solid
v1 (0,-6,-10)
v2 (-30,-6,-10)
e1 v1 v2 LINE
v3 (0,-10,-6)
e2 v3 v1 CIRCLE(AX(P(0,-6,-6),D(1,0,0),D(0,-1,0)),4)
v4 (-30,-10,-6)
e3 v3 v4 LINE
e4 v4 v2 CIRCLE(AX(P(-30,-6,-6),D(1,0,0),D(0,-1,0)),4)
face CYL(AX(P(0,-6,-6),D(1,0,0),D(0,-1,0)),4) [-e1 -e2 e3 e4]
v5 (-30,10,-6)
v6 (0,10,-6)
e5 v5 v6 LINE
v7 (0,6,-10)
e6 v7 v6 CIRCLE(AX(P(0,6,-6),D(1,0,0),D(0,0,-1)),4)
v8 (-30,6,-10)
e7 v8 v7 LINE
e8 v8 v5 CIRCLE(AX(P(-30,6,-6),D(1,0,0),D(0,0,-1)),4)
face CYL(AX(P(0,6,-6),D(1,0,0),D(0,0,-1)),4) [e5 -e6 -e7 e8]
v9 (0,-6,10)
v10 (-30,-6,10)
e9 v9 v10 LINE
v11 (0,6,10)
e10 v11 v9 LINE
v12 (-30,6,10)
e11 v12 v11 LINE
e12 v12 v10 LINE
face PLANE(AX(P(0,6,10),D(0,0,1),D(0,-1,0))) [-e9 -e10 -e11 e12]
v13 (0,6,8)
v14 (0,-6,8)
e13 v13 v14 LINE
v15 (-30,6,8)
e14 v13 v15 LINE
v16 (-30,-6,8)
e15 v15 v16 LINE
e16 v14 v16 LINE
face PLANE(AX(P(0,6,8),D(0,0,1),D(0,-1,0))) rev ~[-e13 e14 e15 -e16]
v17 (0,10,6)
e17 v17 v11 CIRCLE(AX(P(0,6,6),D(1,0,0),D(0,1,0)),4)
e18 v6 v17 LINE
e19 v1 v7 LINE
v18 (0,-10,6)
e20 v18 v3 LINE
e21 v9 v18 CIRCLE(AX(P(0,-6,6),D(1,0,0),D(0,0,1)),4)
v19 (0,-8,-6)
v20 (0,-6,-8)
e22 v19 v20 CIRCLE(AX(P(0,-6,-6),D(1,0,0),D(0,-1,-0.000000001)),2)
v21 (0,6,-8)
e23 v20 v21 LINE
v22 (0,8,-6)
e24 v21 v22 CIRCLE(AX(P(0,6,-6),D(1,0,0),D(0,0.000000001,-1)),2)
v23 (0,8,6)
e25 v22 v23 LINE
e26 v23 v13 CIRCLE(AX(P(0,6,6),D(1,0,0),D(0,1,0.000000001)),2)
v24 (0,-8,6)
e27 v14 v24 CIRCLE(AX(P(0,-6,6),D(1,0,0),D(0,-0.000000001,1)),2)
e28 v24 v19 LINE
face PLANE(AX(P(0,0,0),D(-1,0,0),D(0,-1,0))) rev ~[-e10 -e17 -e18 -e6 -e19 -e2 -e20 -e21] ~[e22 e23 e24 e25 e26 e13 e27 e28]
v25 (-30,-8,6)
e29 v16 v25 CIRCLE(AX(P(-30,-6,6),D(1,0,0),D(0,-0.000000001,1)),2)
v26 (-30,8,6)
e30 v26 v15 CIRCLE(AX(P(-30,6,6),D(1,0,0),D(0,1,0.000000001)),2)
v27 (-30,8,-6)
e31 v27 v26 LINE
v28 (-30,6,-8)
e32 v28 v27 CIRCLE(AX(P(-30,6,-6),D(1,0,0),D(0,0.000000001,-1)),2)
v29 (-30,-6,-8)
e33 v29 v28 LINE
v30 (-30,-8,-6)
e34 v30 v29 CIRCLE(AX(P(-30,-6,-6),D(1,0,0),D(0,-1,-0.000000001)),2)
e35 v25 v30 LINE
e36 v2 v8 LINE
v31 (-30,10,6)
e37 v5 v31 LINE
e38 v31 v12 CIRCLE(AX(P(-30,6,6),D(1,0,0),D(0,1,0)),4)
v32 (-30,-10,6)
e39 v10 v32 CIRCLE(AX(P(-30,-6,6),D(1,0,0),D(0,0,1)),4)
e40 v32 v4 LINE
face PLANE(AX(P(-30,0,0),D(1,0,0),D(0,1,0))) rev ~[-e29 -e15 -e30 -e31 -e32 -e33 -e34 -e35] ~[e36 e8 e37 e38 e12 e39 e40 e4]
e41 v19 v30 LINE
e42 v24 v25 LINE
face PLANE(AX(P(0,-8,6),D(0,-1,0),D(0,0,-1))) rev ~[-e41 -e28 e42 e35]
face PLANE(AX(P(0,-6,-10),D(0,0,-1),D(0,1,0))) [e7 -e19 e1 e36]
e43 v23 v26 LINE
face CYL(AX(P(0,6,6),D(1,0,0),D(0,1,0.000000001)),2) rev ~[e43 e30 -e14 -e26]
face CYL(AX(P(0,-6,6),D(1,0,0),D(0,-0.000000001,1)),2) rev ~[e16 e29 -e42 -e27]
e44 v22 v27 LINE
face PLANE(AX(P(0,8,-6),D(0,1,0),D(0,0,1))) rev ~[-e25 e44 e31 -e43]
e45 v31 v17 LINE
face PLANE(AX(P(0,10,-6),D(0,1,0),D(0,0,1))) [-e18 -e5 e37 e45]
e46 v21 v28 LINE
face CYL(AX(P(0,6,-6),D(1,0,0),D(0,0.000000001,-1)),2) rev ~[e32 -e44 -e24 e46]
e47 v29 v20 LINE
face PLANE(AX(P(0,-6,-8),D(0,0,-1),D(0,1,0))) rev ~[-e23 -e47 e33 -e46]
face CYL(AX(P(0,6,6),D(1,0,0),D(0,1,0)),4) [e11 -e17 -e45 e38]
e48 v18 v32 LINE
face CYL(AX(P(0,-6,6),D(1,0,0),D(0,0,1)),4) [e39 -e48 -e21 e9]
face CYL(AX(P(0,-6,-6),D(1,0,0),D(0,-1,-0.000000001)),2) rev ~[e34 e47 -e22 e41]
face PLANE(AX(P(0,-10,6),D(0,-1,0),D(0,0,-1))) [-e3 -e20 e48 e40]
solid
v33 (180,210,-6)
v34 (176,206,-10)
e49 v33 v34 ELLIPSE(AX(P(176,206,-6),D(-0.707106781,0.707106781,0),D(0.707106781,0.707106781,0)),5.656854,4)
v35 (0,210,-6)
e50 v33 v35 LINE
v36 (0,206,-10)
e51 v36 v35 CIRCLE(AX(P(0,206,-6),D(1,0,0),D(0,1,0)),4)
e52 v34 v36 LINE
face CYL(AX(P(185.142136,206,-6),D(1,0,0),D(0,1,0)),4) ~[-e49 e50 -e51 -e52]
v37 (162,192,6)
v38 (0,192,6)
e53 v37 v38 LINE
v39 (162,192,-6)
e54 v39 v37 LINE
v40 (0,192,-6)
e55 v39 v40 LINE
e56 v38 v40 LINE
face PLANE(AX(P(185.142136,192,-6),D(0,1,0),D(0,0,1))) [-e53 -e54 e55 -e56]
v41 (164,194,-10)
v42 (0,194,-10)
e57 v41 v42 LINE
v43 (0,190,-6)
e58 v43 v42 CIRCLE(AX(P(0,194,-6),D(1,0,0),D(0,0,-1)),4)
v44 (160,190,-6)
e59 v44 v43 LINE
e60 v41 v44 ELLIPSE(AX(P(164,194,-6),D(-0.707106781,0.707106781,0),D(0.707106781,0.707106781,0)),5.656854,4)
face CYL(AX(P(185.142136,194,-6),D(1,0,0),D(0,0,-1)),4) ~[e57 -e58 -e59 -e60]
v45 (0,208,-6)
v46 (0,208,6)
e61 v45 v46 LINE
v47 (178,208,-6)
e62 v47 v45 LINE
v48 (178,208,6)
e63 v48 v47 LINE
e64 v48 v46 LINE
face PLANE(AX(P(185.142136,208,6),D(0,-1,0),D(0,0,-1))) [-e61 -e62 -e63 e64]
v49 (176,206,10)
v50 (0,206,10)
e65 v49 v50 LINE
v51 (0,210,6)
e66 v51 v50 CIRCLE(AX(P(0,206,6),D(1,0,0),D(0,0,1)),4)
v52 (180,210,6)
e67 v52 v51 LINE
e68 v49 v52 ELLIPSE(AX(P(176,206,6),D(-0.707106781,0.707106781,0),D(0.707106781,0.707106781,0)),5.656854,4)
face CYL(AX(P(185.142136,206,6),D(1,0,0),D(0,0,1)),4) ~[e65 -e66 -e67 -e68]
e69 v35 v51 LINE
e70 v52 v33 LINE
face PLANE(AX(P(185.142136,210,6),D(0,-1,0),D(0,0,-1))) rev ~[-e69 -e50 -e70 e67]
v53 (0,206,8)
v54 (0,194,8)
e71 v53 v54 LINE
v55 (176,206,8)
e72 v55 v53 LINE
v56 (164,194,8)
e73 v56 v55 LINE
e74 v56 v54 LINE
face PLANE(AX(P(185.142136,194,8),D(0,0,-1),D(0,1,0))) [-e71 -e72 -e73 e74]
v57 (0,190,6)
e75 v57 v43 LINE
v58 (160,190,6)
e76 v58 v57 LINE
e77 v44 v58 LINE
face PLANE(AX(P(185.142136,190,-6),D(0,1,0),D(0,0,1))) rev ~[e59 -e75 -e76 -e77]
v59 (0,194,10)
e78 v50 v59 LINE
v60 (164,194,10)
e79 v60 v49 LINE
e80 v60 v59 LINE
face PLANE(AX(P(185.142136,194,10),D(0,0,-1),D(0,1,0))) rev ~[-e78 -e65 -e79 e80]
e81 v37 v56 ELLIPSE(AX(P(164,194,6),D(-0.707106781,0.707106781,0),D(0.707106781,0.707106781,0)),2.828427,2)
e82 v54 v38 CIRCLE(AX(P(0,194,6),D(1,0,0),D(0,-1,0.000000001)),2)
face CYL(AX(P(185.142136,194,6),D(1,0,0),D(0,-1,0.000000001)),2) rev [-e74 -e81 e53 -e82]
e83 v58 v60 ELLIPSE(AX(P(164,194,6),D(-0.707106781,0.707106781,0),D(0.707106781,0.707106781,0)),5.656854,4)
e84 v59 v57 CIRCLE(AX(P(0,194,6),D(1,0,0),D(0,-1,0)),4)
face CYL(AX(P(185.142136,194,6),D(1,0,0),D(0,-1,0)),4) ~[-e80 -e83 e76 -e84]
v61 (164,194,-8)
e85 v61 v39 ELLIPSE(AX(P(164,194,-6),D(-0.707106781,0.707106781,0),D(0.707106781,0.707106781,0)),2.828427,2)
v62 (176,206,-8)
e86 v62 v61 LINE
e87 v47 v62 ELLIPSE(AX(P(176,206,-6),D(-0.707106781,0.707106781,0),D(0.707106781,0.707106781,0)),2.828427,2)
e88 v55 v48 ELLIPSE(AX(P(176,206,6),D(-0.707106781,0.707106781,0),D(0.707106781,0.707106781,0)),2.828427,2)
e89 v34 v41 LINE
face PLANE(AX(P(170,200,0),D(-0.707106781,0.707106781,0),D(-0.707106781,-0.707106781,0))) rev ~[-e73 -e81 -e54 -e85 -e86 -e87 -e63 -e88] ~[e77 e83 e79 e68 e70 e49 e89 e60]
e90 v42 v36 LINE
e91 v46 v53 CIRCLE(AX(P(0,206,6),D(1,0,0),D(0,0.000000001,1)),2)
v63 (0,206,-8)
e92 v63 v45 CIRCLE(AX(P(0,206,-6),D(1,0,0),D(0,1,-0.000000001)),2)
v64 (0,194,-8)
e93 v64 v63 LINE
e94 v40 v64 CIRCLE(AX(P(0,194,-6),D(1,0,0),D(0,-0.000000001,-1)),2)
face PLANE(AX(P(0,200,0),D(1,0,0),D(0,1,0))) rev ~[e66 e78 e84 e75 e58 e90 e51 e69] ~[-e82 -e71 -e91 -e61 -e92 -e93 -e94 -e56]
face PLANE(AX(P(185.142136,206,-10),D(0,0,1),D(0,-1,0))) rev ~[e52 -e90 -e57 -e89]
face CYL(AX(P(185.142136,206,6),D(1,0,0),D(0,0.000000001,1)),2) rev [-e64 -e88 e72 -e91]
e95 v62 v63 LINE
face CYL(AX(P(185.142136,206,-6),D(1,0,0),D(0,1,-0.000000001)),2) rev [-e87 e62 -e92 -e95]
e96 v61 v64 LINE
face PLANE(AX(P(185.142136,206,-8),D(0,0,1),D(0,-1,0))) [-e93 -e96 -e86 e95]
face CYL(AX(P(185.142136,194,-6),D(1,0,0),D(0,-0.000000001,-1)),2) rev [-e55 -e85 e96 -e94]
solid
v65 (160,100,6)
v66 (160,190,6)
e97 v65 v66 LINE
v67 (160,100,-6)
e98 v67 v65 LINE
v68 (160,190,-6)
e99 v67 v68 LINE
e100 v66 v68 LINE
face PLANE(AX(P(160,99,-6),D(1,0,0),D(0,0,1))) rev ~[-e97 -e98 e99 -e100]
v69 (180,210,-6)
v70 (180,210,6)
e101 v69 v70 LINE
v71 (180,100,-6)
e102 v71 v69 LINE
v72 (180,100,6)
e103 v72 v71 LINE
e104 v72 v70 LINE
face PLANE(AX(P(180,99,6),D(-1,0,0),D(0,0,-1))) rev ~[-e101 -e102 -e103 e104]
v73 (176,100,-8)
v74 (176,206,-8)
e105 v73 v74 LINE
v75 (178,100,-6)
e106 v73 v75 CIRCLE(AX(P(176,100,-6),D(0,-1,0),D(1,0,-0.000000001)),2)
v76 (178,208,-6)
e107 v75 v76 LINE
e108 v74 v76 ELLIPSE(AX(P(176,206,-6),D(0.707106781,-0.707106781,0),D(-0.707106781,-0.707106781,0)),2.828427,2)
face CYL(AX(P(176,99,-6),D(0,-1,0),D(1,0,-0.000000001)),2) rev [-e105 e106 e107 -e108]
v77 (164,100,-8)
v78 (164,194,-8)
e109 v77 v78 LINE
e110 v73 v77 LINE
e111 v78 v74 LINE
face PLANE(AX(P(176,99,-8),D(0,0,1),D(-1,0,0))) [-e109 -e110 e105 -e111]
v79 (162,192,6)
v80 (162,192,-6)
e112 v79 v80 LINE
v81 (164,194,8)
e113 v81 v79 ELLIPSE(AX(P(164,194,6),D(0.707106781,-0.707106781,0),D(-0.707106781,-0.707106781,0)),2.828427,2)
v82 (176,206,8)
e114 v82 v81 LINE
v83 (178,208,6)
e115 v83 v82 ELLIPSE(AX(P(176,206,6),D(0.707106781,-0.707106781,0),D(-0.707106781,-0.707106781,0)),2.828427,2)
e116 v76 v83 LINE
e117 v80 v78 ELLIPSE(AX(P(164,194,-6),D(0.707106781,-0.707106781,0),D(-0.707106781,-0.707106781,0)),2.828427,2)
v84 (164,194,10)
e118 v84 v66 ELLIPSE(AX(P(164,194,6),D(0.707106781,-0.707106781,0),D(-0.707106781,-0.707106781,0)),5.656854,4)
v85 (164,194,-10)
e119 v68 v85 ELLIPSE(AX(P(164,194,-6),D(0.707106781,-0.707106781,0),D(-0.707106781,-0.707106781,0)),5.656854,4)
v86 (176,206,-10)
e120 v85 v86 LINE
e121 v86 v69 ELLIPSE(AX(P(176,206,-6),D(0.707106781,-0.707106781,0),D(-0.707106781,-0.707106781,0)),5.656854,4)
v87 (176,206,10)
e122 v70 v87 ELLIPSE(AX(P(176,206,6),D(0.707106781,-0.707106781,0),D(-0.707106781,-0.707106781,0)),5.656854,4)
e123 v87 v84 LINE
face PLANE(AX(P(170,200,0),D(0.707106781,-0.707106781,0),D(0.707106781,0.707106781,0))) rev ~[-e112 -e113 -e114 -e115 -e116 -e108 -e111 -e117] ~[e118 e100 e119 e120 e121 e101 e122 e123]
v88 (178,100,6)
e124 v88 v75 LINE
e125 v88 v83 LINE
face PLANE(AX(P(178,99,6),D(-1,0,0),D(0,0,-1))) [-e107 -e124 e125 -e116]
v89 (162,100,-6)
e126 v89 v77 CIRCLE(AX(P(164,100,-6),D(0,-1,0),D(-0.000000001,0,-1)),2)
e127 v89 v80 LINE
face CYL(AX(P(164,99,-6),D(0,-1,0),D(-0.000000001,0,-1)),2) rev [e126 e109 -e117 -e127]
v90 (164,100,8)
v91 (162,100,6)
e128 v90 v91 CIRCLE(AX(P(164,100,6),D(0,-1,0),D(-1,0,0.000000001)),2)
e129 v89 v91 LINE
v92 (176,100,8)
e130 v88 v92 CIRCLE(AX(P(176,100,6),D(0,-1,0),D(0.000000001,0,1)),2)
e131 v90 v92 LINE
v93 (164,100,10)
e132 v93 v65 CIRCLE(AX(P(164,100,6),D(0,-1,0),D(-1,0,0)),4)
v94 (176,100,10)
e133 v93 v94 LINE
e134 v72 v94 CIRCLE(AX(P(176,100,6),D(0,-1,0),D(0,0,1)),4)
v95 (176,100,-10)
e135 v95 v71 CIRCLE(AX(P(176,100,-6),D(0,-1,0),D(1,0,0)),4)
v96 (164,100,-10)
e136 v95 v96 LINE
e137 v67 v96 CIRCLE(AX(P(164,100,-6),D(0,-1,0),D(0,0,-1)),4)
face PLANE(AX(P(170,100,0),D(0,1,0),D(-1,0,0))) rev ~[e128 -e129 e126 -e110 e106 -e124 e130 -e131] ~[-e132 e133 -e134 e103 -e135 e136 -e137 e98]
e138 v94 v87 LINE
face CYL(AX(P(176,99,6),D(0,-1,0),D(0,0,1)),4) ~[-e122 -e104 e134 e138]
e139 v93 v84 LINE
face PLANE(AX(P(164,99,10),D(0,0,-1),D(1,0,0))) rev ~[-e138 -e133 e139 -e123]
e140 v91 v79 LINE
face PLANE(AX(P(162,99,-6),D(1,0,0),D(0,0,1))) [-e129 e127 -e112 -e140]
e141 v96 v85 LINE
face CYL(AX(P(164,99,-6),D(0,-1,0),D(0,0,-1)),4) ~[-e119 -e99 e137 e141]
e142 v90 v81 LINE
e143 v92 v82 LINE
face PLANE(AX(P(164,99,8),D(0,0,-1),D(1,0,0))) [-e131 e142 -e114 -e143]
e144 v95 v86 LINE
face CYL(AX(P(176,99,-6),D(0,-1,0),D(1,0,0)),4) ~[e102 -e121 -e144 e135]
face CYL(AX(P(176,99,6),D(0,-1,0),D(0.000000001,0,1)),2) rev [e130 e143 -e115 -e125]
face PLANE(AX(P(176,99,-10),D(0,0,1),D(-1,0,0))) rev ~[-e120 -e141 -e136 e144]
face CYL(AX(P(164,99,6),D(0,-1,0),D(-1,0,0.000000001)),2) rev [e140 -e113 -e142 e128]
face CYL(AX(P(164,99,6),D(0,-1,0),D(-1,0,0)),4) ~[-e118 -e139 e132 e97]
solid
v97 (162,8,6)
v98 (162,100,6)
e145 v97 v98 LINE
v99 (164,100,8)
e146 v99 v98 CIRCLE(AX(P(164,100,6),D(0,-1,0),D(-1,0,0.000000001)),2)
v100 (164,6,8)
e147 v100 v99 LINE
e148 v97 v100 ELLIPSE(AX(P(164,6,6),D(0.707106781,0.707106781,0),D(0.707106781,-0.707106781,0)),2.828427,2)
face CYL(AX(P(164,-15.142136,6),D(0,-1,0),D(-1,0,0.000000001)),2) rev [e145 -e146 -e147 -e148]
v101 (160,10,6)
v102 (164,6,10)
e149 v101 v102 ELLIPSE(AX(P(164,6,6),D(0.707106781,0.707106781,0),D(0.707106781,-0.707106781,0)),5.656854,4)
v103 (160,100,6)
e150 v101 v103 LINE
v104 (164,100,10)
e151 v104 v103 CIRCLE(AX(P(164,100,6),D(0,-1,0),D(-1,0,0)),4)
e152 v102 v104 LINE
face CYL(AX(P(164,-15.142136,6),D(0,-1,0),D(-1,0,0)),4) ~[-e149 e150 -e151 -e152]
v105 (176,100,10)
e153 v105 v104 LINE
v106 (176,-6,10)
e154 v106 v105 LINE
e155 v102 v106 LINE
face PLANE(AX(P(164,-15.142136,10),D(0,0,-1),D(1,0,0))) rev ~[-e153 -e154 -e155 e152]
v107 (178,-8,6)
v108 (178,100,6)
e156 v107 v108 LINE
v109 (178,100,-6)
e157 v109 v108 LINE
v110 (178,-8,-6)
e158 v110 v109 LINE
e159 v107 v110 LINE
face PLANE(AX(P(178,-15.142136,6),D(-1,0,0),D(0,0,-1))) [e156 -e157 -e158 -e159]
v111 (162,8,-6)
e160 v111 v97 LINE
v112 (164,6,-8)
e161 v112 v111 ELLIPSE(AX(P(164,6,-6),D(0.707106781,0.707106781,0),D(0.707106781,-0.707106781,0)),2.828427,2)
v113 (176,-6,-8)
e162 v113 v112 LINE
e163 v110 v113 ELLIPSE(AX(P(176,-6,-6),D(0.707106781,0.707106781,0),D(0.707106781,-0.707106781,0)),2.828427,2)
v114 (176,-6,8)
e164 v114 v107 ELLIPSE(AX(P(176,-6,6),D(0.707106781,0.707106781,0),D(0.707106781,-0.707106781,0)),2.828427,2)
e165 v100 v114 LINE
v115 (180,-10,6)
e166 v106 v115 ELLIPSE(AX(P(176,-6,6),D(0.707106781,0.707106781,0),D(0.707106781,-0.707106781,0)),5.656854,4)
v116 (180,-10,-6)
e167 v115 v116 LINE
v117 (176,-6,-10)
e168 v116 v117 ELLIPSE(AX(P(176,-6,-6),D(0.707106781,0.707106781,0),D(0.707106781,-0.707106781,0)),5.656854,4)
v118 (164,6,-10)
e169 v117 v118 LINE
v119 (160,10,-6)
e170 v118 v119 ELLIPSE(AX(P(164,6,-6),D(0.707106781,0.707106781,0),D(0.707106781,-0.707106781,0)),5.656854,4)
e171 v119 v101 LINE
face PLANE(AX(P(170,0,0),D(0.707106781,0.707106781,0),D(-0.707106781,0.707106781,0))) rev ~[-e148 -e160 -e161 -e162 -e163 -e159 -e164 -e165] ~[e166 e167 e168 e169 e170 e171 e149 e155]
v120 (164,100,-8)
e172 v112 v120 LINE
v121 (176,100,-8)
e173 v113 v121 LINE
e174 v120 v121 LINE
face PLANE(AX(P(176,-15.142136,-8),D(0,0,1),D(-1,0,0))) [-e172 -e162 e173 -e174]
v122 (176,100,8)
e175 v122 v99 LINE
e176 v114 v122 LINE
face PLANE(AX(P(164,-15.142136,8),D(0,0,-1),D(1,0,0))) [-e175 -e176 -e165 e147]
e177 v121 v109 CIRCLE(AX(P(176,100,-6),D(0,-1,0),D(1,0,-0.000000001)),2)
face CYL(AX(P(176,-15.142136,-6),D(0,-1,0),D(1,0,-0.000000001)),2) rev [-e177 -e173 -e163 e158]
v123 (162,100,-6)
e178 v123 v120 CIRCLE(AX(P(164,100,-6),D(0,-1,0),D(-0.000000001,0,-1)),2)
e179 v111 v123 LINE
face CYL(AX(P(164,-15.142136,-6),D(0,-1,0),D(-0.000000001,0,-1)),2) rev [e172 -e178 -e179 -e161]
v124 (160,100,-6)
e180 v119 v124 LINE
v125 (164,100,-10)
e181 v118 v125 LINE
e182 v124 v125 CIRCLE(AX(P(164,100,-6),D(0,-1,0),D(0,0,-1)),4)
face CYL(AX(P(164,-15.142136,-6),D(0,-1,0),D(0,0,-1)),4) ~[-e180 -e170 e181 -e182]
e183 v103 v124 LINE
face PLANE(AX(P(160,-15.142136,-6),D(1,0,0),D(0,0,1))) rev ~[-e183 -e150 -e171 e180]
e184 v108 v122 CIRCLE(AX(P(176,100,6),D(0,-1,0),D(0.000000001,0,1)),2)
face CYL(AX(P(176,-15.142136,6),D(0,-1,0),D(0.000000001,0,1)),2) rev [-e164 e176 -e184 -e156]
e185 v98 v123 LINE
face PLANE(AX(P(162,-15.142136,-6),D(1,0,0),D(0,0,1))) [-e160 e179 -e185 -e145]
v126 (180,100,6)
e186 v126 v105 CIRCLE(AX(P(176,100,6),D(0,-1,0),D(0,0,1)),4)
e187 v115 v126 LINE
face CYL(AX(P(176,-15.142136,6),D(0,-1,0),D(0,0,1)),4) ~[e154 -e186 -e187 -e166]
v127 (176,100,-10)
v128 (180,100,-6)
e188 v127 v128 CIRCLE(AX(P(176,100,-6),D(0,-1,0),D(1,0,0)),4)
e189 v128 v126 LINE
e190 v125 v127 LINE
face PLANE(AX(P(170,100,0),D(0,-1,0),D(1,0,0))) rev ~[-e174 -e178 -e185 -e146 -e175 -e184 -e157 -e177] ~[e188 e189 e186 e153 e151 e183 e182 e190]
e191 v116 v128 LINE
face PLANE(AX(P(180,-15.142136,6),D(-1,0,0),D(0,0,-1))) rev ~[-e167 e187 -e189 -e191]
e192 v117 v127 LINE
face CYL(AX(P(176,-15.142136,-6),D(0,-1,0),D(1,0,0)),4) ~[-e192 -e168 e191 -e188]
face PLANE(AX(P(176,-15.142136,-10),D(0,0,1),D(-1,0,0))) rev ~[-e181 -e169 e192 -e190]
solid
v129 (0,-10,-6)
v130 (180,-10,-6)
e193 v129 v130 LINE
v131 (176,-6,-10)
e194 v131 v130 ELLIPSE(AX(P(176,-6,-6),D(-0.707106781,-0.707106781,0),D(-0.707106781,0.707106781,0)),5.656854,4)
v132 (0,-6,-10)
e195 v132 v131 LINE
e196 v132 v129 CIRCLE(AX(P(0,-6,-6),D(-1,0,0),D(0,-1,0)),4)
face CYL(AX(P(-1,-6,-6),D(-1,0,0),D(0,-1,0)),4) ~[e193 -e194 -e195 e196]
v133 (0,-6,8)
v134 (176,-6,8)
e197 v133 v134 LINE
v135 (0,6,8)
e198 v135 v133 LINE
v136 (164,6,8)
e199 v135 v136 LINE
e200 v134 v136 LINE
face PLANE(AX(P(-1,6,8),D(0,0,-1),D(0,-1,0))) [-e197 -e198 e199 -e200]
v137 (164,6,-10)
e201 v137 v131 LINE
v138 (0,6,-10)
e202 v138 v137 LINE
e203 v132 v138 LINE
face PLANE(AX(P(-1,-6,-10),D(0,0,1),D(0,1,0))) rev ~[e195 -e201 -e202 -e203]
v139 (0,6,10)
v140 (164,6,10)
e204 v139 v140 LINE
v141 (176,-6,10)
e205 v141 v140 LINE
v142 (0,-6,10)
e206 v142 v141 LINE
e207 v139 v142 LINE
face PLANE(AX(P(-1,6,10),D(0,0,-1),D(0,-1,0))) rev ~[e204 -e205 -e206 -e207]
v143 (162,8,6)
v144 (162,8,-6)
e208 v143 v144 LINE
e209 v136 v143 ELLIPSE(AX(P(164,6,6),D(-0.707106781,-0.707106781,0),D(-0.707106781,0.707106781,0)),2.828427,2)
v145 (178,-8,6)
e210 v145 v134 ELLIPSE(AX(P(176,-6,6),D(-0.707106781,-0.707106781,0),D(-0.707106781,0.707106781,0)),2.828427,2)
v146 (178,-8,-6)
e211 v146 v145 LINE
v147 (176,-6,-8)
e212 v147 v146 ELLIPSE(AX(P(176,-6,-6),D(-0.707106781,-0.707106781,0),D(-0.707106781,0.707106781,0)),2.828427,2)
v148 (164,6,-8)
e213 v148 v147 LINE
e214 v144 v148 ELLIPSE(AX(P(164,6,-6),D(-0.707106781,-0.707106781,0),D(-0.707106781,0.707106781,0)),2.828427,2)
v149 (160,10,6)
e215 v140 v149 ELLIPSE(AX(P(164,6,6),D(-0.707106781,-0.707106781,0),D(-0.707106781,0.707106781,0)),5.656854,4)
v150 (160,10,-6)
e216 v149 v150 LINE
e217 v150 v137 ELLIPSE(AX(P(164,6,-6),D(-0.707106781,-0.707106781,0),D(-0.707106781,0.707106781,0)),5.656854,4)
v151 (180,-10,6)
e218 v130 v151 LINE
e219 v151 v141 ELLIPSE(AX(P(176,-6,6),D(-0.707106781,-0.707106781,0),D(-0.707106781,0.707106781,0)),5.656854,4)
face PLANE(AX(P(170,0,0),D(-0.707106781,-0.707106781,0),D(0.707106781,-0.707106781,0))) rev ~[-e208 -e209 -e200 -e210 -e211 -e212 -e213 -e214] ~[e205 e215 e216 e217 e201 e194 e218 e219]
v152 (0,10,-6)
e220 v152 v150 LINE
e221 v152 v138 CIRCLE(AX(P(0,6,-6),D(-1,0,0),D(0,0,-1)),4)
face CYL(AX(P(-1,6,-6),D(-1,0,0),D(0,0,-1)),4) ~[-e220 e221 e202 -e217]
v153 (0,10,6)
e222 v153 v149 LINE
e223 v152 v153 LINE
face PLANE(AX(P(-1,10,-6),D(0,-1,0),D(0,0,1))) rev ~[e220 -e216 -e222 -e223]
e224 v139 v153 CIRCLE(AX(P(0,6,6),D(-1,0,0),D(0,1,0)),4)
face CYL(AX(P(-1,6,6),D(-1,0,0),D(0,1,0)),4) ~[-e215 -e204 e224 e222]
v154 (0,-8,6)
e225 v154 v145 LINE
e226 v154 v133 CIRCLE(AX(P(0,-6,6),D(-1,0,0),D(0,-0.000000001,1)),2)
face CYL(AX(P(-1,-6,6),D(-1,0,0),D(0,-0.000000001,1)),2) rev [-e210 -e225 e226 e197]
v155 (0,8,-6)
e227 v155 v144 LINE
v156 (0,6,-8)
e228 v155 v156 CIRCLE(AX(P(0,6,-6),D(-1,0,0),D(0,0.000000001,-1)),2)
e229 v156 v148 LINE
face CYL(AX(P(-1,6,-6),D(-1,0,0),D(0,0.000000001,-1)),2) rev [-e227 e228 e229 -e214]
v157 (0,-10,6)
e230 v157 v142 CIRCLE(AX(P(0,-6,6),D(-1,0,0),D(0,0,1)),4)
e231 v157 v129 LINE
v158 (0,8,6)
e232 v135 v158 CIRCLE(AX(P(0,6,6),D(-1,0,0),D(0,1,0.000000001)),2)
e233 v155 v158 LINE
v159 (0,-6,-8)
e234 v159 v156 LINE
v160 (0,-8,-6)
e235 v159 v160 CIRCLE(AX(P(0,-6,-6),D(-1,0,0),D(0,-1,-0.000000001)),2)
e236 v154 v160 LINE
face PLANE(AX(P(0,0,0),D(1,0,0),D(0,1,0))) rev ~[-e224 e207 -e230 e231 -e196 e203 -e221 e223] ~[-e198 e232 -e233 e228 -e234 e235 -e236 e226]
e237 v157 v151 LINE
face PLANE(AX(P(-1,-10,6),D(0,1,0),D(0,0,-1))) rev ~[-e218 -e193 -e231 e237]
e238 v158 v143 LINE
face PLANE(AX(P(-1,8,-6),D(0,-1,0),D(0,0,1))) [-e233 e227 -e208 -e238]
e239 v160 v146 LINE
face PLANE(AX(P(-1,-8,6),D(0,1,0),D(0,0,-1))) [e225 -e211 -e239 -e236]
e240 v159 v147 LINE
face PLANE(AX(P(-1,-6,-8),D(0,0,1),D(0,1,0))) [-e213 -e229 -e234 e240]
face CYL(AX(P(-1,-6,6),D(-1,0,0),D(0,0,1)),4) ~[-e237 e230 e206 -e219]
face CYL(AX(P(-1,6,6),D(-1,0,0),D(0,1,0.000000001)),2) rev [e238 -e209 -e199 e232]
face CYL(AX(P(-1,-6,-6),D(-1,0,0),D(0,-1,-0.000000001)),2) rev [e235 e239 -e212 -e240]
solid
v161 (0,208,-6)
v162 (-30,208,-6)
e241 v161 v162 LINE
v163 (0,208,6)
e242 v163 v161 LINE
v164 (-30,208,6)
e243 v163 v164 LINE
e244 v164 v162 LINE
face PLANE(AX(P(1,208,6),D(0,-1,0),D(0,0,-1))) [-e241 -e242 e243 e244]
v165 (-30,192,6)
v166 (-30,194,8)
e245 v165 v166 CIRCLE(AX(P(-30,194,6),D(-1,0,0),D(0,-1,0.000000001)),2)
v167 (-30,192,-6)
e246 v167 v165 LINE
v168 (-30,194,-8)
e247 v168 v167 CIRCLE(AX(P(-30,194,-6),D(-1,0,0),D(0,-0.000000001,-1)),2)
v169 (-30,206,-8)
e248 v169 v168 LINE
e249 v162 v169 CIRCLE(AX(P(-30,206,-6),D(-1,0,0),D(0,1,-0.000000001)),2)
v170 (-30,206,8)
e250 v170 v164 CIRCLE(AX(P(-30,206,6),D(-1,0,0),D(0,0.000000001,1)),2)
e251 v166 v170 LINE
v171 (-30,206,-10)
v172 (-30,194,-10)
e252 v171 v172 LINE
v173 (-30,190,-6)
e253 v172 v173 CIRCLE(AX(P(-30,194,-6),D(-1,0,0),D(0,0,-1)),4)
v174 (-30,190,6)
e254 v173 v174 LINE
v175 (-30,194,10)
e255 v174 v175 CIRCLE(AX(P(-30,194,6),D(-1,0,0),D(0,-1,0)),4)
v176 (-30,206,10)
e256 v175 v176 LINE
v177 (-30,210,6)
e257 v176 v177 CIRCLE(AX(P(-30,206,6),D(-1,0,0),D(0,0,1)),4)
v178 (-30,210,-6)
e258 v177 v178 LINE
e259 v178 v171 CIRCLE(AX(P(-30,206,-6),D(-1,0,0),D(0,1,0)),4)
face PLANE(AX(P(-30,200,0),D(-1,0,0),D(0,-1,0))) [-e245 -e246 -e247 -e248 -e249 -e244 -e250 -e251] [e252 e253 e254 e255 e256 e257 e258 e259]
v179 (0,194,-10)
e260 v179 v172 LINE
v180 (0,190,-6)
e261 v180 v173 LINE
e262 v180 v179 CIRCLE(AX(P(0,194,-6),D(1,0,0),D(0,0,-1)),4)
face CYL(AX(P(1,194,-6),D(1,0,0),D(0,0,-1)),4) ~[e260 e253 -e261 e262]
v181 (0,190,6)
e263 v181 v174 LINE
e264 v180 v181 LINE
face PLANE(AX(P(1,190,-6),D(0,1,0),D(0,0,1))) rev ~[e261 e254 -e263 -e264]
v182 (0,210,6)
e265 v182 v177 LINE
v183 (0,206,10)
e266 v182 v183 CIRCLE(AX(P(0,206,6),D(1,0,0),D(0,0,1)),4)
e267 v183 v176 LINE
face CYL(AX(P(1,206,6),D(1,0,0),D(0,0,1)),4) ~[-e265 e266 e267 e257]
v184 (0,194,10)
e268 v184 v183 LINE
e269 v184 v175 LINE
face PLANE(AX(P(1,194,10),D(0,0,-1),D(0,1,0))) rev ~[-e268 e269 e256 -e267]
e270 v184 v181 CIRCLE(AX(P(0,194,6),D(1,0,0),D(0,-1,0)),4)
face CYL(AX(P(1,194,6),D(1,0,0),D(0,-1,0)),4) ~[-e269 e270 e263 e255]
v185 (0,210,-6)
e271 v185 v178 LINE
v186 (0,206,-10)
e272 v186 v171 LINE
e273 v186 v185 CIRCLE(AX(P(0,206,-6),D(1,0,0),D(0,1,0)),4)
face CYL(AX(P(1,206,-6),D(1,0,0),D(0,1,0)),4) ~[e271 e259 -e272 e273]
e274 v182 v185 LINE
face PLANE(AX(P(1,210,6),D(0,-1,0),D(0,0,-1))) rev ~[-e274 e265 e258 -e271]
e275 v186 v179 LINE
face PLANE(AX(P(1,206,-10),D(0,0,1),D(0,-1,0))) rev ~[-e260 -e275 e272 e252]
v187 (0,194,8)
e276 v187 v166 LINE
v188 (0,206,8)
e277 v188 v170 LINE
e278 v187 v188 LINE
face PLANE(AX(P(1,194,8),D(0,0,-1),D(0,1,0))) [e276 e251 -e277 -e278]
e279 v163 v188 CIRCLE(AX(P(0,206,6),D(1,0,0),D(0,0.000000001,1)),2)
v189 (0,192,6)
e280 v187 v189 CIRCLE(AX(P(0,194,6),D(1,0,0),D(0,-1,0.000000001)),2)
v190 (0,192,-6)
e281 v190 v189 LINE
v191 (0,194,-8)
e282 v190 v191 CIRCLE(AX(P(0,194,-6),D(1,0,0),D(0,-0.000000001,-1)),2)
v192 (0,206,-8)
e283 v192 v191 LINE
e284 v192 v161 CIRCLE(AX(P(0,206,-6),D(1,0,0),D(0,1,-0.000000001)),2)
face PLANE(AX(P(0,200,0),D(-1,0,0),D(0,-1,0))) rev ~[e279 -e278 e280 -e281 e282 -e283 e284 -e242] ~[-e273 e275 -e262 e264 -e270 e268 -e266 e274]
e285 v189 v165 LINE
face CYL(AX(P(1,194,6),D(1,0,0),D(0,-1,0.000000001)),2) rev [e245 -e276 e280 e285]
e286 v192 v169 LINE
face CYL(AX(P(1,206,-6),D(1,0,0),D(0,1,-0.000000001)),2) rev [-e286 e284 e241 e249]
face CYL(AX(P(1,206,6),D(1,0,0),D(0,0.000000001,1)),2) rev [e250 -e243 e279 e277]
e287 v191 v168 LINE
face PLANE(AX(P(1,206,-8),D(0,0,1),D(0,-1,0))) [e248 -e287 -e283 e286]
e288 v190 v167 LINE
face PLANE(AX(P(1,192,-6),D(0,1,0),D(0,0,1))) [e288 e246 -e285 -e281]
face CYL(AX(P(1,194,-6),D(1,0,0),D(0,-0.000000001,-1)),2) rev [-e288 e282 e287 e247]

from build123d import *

# Parameters (mm, degrees)
SQUARE_TUBE_20_X_20_X_2_1_DEPTH      = 1
SQUARE_TUBE_20_X_20_X_2_1_DEPTH_BACK = 30
SQUARE_TUBE_20_X_20_X_2_1_2_DEPTH    = 186.142135624
SQUARE_TUBE_20_X_20_X_2_1_3_DEPTH    = 116.142135624
SQUARE_TUBE_20_X_20_X_2_1_4_DEPTH    = 116.142135624
SQUARE_TUBE_20_X_20_X_2_1_5_DEPTH    = 186.142135624
SQUARE_TUBE_20_X_20_X_2_1_6_DEPTH    = 31


with BuildPart() as part:
    # Sketch11 → Square tube 20 X 20 X 2(1) (new, two sides)
    with BuildSketch(Plane.YZ) as square_tube_20_x_20_x_2_1_sk:
        with BuildLine():
            Line((-6, -10), (6, -10))
            ThreePointArc((6, -10), (8.828427125, -8.828427125), (10, -6))
            Line((10, -6), (10, 6))
            ThreePointArc((10, 6), (8.828427125, 8.828427125), (6, 10))
            Line((6, 10), (-6, 10))
            ThreePointArc((-6, 10), (-8.828427125, 8.828427125), (-10, 6))
            Line((-10, 6), (-10, -6))
            ThreePointArc((-10, -6), (-8.828427125, -8.828427125), (-6, -10))
        make_face()
        with BuildLine():
            Line((-6, -8), (6, -8))
            ThreePointArc((6, -8), (7.414213562, -7.414213562), (8, -6))
            Line((8, -6), (8, 6))
            ThreePointArc((8, 6), (7.414213562, 7.414213562), (6, 8))
            Line((6, 8), (-6, 8))
            ThreePointArc((-6, 8), (-7.414213562, 7.414213562), (-8, 6))
            Line((-8, 6), (-8, -6))
            ThreePointArc((-8, -6), (-7.414213562, -7.414213562), (-6, -8))
        make_face(mode=Mode.SUBTRACT)
    extrude(amount=SQUARE_TUBE_20_X_20_X_2_1_DEPTH)
    extrude(square_tube_20_x_20_x_2_1_sk.sketch, amount=-SQUARE_TUBE_20_X_20_X_2_1_DEPTH_BACK)

    # Square tube 20 X 20 X 2(1) mitre 1
    split(bisect_by=Plane(origin=(0, 0, 0), x_dir=(0, -1, 0), z_dir=(-1, 0, 0)), keep=Keep.TOP)


with BuildPart() as body_2:
    # Sketch11 on segment 2 (carried to segment 2) → Square tube 20 X 20 X 2_1 2 (new body)
    with BuildSketch(Plane.YZ.offset(-1)):
        with BuildLine():
            Line((-6, -10), (6, -10))
            ThreePointArc((6, -10), (8.828427125, -8.828427125), (10, -6))
            Line((10, -6), (10, 6))
            ThreePointArc((10, 6), (8.828427125, 8.828427125), (6, 10))
            Line((6, 10), (-6, 10))
            ThreePointArc((-6, 10), (-8.828427125, 8.828427125), (-10, 6))
            Line((-10, 6), (-10, -6))
            ThreePointArc((-10, -6), (-8.828427125, -8.828427125), (-6, -10))
        make_face()
        with BuildLine():
            Line((-6, -8), (6, -8))
            ThreePointArc((6, -8), (7.414213562, -7.414213562), (8, -6))
            Line((8, -6), (8, 6))
            ThreePointArc((8, 6), (7.414213562, 7.414213562), (6, 8))
            Line((6, 8), (-6, 8))
            ThreePointArc((-6, 8), (-7.414213562, 7.414213562), (-8, 6))
            Line((-8, 6), (-8, -6))
            ThreePointArc((-8, -6), (-7.414213562, -7.414213562), (-6, -8))
        make_face(mode=Mode.SUBTRACT)
    extrude(amount=SQUARE_TUBE_20_X_20_X_2_1_2_DEPTH)

    # Square tube 20 X 20 X 2_1 2 mitre 1
    split(bisect_by=Plane.YZ, keep=Keep.TOP)

    # Square tube 20 X 20 X 2_1 2 mitre 2
    split(bisect_by=Plane(origin=(170, 0, 0), x_dir=(0.707106781, -0.707106781, 0), z_dir=(-0.707106781, -0.707106781, 0)), keep=Keep.TOP)


with BuildPart() as body_3:
    # Sketch11 on segment 3 (carried to segment 3) → Square tube 20 X 20 X 2_1 3 (new body)
    with BuildSketch(Plane(origin=(170, -15.142135624, 0), x_dir=(-1, 0, 0), z_dir=(0, 1, 0))):
        with BuildLine():
            Line((-6, -10), (6, -10))
            ThreePointArc((6, -10), (8.828427125, -8.828427125), (10, -6))
            Line((10, -6), (10, 6))
            ThreePointArc((10, 6), (8.828427125, 8.828427125), (6, 10))
            Line((6, 10), (-6, 10))
            ThreePointArc((-6, 10), (-8.828427125, 8.828427125), (-10, 6))
            Line((-10, 6), (-10, -6))
            ThreePointArc((-10, -6), (-8.828427125, -8.828427125), (-6, -10))
        make_face()
        with BuildLine():
            Line((-6, -8), (6, -8))
            ThreePointArc((6, -8), (7.414213562, -7.414213562), (8, -6))
            Line((8, -6), (8, 6))
            ThreePointArc((8, 6), (7.414213562, 7.414213562), (6, 8))
            Line((6, 8), (-6, 8))
            ThreePointArc((-6, 8), (-7.414213562, 7.414213562), (-8, 6))
            Line((-8, 6), (-8, -6))
            ThreePointArc((-8, -6), (-7.414213562, -7.414213562), (-6, -8))
        make_face(mode=Mode.SUBTRACT)
    extrude(amount=SQUARE_TUBE_20_X_20_X_2_1_3_DEPTH)

    # Square tube 20 X 20 X 2_1 3 mitre 1
    split(bisect_by=Plane(origin=(170, 100, 0), x_dir=(1, 0, 0), z_dir=(0, -1, 0)), keep=Keep.TOP)

    # Square tube 20 X 20 X 2_1 3 mitre 2
    split(bisect_by=Plane(origin=(170, 0, 0), x_dir=(-0.707106781, 0.707106781, 0), z_dir=(0.707106781, 0.707106781, 0)), keep=Keep.TOP)


with BuildPart() as body_4:
    # Sketch11 on segment 4 (carried to segment 4) → Square tube 20 X 20 X 2_1 4 (new body)
    with BuildSketch(Plane(origin=(170, 99, 0), x_dir=(-1, 0, 0), z_dir=(0, 1, 0))):
        with BuildLine():
            Line((-6, -10), (6, -10))
            ThreePointArc((6, -10), (8.828427125, -8.828427125), (10, -6))
            Line((10, -6), (10, 6))
            ThreePointArc((10, 6), (8.828427125, 8.828427125), (6, 10))
            Line((6, 10), (-6, 10))
            ThreePointArc((-6, 10), (-8.828427125, 8.828427125), (-10, 6))
            Line((-10, 6), (-10, -6))
            ThreePointArc((-10, -6), (-8.828427125, -8.828427125), (-6, -10))
        make_face()
        with BuildLine():
            Line((-6, -8), (6, -8))
            ThreePointArc((6, -8), (7.414213562, -7.414213562), (8, -6))
            Line((8, -6), (8, 6))
            ThreePointArc((8, 6), (7.414213562, 7.414213562), (6, 8))
            Line((6, 8), (-6, 8))
            ThreePointArc((-6, 8), (-7.414213562, 7.414213562), (-8, 6))
            Line((-8, 6), (-8, -6))
            ThreePointArc((-8, -6), (-7.414213562, -7.414213562), (-6, -8))
        make_face(mode=Mode.SUBTRACT)
    extrude(amount=SQUARE_TUBE_20_X_20_X_2_1_4_DEPTH)

    # Square tube 20 X 20 X 2_1 4 mitre 1
    split(bisect_by=Plane(origin=(170, 200, 0), x_dir=(0.707106781, 0.707106781, 0), z_dir=(0.707106781, -0.707106781, 0)), keep=Keep.TOP)

    # Square tube 20 X 20 X 2_1 4 mitre 2
    split(bisect_by=Plane(origin=(170, 100, 0), x_dir=(-1, 0, 0), z_dir=(0, 1, 0)), keep=Keep.TOP)


with BuildPart() as body_5:
    # Sketch11 on segment 5 (carried to segment 5) → Square tube 20 X 20 X 2_1 5 (new body)
    with BuildSketch(Plane(origin=(185.142135624, 200, 0), x_dir=(0, -1, 0), z_dir=(-1, 0, 0))):
        with BuildLine():
            Line((-6, -10), (6, -10))
            ThreePointArc((6, -10), (8.828427125, -8.828427125), (10, -6))
            Line((10, -6), (10, 6))
            ThreePointArc((10, 6), (8.828427125, 8.828427125), (6, 10))
            Line((6, 10), (-6, 10))
            ThreePointArc((-6, 10), (-8.828427125, 8.828427125), (-10, 6))
            Line((-10, 6), (-10, -6))
            ThreePointArc((-10, -6), (-8.828427125, -8.828427125), (-6, -10))
        make_face()
        with BuildLine():
            Line((-6, -8), (6, -8))
            ThreePointArc((6, -8), (7.414213562, -7.414213562), (8, -6))
            Line((8, -6), (8, 6))
            ThreePointArc((8, 6), (7.414213562, 7.414213562), (6, 8))
            Line((6, 8), (-6, 8))
            ThreePointArc((-6, 8), (-7.414213562, 7.414213562), (-8, 6))
            Line((-8, 6), (-8, -6))
            ThreePointArc((-8, -6), (-7.414213562, -7.414213562), (-6, -8))
        make_face(mode=Mode.SUBTRACT)
    extrude(amount=SQUARE_TUBE_20_X_20_X_2_1_5_DEPTH)

    # Square tube 20 X 20 X 2_1 5 mitre 1
    split(bisect_by=Plane(origin=(0, 200, 0), x_dir=(0, 1, 0), z_dir=(1, 0, 0)), keep=Keep.TOP)

    # Square tube 20 X 20 X 2_1 5 mitre 2
    split(bisect_by=Plane(origin=(170, 200, 0), x_dir=(-0.707106781, -0.707106781, 0), z_dir=(-0.707106781, 0.707106781, 0)), keep=Keep.TOP)


with BuildPart() as body_6:
    # Sketch11 on segment 6 (carried to segment 6) → Square tube 20 X 20 X 2_1 6 (new body)
    with BuildSketch(Plane(origin=(1, 200, 0), x_dir=(0, -1, 0), z_dir=(-1, 0, 0))):
        with BuildLine():
            Line((-6, -10), (6, -10))
            ThreePointArc((6, -10), (8.828427125, -8.828427125), (10, -6))
            Line((10, -6), (10, 6))
            ThreePointArc((10, 6), (8.828427125, 8.828427125), (6, 10))
            Line((6, 10), (-6, 10))
            ThreePointArc((-6, 10), (-8.828427125, 8.828427125), (-10, 6))
            Line((-10, 6), (-10, -6))
            ThreePointArc((-10, -6), (-8.828427125, -8.828427125), (-6, -10))
        make_face()
        with BuildLine():
            Line((-6, -8), (6, -8))
            ThreePointArc((6, -8), (7.414213562, -7.414213562), (8, -6))
            Line((8, -6), (8, 6))
            ThreePointArc((8, 6), (7.414213562, 7.414213562), (6, 8))
            Line((6, 8), (-6, 8))
            ThreePointArc((-6, 8), (-7.414213562, 7.414213562), (-8, 6))
            Line((-8, 6), (-8, -6))
            ThreePointArc((-8, -6), (-7.414213562, -7.414213562), (-6, -8))
        make_face(mode=Mode.SUBTRACT)
    extrude(amount=SQUARE_TUBE_20_X_20_X_2_1_6_DEPTH)

    # Square tube 20 X 20 X 2_1 6 mitre 1
    split(bisect_by=Plane(origin=(0, 200, 0), x_dir=(0, -1, 0), z_dir=(-1, 0, 0)), keep=Keep.TOP)


solid = Compound([part.part, body_2.part, body_3.part, body_4.part, body_5.part, body_6.part])
